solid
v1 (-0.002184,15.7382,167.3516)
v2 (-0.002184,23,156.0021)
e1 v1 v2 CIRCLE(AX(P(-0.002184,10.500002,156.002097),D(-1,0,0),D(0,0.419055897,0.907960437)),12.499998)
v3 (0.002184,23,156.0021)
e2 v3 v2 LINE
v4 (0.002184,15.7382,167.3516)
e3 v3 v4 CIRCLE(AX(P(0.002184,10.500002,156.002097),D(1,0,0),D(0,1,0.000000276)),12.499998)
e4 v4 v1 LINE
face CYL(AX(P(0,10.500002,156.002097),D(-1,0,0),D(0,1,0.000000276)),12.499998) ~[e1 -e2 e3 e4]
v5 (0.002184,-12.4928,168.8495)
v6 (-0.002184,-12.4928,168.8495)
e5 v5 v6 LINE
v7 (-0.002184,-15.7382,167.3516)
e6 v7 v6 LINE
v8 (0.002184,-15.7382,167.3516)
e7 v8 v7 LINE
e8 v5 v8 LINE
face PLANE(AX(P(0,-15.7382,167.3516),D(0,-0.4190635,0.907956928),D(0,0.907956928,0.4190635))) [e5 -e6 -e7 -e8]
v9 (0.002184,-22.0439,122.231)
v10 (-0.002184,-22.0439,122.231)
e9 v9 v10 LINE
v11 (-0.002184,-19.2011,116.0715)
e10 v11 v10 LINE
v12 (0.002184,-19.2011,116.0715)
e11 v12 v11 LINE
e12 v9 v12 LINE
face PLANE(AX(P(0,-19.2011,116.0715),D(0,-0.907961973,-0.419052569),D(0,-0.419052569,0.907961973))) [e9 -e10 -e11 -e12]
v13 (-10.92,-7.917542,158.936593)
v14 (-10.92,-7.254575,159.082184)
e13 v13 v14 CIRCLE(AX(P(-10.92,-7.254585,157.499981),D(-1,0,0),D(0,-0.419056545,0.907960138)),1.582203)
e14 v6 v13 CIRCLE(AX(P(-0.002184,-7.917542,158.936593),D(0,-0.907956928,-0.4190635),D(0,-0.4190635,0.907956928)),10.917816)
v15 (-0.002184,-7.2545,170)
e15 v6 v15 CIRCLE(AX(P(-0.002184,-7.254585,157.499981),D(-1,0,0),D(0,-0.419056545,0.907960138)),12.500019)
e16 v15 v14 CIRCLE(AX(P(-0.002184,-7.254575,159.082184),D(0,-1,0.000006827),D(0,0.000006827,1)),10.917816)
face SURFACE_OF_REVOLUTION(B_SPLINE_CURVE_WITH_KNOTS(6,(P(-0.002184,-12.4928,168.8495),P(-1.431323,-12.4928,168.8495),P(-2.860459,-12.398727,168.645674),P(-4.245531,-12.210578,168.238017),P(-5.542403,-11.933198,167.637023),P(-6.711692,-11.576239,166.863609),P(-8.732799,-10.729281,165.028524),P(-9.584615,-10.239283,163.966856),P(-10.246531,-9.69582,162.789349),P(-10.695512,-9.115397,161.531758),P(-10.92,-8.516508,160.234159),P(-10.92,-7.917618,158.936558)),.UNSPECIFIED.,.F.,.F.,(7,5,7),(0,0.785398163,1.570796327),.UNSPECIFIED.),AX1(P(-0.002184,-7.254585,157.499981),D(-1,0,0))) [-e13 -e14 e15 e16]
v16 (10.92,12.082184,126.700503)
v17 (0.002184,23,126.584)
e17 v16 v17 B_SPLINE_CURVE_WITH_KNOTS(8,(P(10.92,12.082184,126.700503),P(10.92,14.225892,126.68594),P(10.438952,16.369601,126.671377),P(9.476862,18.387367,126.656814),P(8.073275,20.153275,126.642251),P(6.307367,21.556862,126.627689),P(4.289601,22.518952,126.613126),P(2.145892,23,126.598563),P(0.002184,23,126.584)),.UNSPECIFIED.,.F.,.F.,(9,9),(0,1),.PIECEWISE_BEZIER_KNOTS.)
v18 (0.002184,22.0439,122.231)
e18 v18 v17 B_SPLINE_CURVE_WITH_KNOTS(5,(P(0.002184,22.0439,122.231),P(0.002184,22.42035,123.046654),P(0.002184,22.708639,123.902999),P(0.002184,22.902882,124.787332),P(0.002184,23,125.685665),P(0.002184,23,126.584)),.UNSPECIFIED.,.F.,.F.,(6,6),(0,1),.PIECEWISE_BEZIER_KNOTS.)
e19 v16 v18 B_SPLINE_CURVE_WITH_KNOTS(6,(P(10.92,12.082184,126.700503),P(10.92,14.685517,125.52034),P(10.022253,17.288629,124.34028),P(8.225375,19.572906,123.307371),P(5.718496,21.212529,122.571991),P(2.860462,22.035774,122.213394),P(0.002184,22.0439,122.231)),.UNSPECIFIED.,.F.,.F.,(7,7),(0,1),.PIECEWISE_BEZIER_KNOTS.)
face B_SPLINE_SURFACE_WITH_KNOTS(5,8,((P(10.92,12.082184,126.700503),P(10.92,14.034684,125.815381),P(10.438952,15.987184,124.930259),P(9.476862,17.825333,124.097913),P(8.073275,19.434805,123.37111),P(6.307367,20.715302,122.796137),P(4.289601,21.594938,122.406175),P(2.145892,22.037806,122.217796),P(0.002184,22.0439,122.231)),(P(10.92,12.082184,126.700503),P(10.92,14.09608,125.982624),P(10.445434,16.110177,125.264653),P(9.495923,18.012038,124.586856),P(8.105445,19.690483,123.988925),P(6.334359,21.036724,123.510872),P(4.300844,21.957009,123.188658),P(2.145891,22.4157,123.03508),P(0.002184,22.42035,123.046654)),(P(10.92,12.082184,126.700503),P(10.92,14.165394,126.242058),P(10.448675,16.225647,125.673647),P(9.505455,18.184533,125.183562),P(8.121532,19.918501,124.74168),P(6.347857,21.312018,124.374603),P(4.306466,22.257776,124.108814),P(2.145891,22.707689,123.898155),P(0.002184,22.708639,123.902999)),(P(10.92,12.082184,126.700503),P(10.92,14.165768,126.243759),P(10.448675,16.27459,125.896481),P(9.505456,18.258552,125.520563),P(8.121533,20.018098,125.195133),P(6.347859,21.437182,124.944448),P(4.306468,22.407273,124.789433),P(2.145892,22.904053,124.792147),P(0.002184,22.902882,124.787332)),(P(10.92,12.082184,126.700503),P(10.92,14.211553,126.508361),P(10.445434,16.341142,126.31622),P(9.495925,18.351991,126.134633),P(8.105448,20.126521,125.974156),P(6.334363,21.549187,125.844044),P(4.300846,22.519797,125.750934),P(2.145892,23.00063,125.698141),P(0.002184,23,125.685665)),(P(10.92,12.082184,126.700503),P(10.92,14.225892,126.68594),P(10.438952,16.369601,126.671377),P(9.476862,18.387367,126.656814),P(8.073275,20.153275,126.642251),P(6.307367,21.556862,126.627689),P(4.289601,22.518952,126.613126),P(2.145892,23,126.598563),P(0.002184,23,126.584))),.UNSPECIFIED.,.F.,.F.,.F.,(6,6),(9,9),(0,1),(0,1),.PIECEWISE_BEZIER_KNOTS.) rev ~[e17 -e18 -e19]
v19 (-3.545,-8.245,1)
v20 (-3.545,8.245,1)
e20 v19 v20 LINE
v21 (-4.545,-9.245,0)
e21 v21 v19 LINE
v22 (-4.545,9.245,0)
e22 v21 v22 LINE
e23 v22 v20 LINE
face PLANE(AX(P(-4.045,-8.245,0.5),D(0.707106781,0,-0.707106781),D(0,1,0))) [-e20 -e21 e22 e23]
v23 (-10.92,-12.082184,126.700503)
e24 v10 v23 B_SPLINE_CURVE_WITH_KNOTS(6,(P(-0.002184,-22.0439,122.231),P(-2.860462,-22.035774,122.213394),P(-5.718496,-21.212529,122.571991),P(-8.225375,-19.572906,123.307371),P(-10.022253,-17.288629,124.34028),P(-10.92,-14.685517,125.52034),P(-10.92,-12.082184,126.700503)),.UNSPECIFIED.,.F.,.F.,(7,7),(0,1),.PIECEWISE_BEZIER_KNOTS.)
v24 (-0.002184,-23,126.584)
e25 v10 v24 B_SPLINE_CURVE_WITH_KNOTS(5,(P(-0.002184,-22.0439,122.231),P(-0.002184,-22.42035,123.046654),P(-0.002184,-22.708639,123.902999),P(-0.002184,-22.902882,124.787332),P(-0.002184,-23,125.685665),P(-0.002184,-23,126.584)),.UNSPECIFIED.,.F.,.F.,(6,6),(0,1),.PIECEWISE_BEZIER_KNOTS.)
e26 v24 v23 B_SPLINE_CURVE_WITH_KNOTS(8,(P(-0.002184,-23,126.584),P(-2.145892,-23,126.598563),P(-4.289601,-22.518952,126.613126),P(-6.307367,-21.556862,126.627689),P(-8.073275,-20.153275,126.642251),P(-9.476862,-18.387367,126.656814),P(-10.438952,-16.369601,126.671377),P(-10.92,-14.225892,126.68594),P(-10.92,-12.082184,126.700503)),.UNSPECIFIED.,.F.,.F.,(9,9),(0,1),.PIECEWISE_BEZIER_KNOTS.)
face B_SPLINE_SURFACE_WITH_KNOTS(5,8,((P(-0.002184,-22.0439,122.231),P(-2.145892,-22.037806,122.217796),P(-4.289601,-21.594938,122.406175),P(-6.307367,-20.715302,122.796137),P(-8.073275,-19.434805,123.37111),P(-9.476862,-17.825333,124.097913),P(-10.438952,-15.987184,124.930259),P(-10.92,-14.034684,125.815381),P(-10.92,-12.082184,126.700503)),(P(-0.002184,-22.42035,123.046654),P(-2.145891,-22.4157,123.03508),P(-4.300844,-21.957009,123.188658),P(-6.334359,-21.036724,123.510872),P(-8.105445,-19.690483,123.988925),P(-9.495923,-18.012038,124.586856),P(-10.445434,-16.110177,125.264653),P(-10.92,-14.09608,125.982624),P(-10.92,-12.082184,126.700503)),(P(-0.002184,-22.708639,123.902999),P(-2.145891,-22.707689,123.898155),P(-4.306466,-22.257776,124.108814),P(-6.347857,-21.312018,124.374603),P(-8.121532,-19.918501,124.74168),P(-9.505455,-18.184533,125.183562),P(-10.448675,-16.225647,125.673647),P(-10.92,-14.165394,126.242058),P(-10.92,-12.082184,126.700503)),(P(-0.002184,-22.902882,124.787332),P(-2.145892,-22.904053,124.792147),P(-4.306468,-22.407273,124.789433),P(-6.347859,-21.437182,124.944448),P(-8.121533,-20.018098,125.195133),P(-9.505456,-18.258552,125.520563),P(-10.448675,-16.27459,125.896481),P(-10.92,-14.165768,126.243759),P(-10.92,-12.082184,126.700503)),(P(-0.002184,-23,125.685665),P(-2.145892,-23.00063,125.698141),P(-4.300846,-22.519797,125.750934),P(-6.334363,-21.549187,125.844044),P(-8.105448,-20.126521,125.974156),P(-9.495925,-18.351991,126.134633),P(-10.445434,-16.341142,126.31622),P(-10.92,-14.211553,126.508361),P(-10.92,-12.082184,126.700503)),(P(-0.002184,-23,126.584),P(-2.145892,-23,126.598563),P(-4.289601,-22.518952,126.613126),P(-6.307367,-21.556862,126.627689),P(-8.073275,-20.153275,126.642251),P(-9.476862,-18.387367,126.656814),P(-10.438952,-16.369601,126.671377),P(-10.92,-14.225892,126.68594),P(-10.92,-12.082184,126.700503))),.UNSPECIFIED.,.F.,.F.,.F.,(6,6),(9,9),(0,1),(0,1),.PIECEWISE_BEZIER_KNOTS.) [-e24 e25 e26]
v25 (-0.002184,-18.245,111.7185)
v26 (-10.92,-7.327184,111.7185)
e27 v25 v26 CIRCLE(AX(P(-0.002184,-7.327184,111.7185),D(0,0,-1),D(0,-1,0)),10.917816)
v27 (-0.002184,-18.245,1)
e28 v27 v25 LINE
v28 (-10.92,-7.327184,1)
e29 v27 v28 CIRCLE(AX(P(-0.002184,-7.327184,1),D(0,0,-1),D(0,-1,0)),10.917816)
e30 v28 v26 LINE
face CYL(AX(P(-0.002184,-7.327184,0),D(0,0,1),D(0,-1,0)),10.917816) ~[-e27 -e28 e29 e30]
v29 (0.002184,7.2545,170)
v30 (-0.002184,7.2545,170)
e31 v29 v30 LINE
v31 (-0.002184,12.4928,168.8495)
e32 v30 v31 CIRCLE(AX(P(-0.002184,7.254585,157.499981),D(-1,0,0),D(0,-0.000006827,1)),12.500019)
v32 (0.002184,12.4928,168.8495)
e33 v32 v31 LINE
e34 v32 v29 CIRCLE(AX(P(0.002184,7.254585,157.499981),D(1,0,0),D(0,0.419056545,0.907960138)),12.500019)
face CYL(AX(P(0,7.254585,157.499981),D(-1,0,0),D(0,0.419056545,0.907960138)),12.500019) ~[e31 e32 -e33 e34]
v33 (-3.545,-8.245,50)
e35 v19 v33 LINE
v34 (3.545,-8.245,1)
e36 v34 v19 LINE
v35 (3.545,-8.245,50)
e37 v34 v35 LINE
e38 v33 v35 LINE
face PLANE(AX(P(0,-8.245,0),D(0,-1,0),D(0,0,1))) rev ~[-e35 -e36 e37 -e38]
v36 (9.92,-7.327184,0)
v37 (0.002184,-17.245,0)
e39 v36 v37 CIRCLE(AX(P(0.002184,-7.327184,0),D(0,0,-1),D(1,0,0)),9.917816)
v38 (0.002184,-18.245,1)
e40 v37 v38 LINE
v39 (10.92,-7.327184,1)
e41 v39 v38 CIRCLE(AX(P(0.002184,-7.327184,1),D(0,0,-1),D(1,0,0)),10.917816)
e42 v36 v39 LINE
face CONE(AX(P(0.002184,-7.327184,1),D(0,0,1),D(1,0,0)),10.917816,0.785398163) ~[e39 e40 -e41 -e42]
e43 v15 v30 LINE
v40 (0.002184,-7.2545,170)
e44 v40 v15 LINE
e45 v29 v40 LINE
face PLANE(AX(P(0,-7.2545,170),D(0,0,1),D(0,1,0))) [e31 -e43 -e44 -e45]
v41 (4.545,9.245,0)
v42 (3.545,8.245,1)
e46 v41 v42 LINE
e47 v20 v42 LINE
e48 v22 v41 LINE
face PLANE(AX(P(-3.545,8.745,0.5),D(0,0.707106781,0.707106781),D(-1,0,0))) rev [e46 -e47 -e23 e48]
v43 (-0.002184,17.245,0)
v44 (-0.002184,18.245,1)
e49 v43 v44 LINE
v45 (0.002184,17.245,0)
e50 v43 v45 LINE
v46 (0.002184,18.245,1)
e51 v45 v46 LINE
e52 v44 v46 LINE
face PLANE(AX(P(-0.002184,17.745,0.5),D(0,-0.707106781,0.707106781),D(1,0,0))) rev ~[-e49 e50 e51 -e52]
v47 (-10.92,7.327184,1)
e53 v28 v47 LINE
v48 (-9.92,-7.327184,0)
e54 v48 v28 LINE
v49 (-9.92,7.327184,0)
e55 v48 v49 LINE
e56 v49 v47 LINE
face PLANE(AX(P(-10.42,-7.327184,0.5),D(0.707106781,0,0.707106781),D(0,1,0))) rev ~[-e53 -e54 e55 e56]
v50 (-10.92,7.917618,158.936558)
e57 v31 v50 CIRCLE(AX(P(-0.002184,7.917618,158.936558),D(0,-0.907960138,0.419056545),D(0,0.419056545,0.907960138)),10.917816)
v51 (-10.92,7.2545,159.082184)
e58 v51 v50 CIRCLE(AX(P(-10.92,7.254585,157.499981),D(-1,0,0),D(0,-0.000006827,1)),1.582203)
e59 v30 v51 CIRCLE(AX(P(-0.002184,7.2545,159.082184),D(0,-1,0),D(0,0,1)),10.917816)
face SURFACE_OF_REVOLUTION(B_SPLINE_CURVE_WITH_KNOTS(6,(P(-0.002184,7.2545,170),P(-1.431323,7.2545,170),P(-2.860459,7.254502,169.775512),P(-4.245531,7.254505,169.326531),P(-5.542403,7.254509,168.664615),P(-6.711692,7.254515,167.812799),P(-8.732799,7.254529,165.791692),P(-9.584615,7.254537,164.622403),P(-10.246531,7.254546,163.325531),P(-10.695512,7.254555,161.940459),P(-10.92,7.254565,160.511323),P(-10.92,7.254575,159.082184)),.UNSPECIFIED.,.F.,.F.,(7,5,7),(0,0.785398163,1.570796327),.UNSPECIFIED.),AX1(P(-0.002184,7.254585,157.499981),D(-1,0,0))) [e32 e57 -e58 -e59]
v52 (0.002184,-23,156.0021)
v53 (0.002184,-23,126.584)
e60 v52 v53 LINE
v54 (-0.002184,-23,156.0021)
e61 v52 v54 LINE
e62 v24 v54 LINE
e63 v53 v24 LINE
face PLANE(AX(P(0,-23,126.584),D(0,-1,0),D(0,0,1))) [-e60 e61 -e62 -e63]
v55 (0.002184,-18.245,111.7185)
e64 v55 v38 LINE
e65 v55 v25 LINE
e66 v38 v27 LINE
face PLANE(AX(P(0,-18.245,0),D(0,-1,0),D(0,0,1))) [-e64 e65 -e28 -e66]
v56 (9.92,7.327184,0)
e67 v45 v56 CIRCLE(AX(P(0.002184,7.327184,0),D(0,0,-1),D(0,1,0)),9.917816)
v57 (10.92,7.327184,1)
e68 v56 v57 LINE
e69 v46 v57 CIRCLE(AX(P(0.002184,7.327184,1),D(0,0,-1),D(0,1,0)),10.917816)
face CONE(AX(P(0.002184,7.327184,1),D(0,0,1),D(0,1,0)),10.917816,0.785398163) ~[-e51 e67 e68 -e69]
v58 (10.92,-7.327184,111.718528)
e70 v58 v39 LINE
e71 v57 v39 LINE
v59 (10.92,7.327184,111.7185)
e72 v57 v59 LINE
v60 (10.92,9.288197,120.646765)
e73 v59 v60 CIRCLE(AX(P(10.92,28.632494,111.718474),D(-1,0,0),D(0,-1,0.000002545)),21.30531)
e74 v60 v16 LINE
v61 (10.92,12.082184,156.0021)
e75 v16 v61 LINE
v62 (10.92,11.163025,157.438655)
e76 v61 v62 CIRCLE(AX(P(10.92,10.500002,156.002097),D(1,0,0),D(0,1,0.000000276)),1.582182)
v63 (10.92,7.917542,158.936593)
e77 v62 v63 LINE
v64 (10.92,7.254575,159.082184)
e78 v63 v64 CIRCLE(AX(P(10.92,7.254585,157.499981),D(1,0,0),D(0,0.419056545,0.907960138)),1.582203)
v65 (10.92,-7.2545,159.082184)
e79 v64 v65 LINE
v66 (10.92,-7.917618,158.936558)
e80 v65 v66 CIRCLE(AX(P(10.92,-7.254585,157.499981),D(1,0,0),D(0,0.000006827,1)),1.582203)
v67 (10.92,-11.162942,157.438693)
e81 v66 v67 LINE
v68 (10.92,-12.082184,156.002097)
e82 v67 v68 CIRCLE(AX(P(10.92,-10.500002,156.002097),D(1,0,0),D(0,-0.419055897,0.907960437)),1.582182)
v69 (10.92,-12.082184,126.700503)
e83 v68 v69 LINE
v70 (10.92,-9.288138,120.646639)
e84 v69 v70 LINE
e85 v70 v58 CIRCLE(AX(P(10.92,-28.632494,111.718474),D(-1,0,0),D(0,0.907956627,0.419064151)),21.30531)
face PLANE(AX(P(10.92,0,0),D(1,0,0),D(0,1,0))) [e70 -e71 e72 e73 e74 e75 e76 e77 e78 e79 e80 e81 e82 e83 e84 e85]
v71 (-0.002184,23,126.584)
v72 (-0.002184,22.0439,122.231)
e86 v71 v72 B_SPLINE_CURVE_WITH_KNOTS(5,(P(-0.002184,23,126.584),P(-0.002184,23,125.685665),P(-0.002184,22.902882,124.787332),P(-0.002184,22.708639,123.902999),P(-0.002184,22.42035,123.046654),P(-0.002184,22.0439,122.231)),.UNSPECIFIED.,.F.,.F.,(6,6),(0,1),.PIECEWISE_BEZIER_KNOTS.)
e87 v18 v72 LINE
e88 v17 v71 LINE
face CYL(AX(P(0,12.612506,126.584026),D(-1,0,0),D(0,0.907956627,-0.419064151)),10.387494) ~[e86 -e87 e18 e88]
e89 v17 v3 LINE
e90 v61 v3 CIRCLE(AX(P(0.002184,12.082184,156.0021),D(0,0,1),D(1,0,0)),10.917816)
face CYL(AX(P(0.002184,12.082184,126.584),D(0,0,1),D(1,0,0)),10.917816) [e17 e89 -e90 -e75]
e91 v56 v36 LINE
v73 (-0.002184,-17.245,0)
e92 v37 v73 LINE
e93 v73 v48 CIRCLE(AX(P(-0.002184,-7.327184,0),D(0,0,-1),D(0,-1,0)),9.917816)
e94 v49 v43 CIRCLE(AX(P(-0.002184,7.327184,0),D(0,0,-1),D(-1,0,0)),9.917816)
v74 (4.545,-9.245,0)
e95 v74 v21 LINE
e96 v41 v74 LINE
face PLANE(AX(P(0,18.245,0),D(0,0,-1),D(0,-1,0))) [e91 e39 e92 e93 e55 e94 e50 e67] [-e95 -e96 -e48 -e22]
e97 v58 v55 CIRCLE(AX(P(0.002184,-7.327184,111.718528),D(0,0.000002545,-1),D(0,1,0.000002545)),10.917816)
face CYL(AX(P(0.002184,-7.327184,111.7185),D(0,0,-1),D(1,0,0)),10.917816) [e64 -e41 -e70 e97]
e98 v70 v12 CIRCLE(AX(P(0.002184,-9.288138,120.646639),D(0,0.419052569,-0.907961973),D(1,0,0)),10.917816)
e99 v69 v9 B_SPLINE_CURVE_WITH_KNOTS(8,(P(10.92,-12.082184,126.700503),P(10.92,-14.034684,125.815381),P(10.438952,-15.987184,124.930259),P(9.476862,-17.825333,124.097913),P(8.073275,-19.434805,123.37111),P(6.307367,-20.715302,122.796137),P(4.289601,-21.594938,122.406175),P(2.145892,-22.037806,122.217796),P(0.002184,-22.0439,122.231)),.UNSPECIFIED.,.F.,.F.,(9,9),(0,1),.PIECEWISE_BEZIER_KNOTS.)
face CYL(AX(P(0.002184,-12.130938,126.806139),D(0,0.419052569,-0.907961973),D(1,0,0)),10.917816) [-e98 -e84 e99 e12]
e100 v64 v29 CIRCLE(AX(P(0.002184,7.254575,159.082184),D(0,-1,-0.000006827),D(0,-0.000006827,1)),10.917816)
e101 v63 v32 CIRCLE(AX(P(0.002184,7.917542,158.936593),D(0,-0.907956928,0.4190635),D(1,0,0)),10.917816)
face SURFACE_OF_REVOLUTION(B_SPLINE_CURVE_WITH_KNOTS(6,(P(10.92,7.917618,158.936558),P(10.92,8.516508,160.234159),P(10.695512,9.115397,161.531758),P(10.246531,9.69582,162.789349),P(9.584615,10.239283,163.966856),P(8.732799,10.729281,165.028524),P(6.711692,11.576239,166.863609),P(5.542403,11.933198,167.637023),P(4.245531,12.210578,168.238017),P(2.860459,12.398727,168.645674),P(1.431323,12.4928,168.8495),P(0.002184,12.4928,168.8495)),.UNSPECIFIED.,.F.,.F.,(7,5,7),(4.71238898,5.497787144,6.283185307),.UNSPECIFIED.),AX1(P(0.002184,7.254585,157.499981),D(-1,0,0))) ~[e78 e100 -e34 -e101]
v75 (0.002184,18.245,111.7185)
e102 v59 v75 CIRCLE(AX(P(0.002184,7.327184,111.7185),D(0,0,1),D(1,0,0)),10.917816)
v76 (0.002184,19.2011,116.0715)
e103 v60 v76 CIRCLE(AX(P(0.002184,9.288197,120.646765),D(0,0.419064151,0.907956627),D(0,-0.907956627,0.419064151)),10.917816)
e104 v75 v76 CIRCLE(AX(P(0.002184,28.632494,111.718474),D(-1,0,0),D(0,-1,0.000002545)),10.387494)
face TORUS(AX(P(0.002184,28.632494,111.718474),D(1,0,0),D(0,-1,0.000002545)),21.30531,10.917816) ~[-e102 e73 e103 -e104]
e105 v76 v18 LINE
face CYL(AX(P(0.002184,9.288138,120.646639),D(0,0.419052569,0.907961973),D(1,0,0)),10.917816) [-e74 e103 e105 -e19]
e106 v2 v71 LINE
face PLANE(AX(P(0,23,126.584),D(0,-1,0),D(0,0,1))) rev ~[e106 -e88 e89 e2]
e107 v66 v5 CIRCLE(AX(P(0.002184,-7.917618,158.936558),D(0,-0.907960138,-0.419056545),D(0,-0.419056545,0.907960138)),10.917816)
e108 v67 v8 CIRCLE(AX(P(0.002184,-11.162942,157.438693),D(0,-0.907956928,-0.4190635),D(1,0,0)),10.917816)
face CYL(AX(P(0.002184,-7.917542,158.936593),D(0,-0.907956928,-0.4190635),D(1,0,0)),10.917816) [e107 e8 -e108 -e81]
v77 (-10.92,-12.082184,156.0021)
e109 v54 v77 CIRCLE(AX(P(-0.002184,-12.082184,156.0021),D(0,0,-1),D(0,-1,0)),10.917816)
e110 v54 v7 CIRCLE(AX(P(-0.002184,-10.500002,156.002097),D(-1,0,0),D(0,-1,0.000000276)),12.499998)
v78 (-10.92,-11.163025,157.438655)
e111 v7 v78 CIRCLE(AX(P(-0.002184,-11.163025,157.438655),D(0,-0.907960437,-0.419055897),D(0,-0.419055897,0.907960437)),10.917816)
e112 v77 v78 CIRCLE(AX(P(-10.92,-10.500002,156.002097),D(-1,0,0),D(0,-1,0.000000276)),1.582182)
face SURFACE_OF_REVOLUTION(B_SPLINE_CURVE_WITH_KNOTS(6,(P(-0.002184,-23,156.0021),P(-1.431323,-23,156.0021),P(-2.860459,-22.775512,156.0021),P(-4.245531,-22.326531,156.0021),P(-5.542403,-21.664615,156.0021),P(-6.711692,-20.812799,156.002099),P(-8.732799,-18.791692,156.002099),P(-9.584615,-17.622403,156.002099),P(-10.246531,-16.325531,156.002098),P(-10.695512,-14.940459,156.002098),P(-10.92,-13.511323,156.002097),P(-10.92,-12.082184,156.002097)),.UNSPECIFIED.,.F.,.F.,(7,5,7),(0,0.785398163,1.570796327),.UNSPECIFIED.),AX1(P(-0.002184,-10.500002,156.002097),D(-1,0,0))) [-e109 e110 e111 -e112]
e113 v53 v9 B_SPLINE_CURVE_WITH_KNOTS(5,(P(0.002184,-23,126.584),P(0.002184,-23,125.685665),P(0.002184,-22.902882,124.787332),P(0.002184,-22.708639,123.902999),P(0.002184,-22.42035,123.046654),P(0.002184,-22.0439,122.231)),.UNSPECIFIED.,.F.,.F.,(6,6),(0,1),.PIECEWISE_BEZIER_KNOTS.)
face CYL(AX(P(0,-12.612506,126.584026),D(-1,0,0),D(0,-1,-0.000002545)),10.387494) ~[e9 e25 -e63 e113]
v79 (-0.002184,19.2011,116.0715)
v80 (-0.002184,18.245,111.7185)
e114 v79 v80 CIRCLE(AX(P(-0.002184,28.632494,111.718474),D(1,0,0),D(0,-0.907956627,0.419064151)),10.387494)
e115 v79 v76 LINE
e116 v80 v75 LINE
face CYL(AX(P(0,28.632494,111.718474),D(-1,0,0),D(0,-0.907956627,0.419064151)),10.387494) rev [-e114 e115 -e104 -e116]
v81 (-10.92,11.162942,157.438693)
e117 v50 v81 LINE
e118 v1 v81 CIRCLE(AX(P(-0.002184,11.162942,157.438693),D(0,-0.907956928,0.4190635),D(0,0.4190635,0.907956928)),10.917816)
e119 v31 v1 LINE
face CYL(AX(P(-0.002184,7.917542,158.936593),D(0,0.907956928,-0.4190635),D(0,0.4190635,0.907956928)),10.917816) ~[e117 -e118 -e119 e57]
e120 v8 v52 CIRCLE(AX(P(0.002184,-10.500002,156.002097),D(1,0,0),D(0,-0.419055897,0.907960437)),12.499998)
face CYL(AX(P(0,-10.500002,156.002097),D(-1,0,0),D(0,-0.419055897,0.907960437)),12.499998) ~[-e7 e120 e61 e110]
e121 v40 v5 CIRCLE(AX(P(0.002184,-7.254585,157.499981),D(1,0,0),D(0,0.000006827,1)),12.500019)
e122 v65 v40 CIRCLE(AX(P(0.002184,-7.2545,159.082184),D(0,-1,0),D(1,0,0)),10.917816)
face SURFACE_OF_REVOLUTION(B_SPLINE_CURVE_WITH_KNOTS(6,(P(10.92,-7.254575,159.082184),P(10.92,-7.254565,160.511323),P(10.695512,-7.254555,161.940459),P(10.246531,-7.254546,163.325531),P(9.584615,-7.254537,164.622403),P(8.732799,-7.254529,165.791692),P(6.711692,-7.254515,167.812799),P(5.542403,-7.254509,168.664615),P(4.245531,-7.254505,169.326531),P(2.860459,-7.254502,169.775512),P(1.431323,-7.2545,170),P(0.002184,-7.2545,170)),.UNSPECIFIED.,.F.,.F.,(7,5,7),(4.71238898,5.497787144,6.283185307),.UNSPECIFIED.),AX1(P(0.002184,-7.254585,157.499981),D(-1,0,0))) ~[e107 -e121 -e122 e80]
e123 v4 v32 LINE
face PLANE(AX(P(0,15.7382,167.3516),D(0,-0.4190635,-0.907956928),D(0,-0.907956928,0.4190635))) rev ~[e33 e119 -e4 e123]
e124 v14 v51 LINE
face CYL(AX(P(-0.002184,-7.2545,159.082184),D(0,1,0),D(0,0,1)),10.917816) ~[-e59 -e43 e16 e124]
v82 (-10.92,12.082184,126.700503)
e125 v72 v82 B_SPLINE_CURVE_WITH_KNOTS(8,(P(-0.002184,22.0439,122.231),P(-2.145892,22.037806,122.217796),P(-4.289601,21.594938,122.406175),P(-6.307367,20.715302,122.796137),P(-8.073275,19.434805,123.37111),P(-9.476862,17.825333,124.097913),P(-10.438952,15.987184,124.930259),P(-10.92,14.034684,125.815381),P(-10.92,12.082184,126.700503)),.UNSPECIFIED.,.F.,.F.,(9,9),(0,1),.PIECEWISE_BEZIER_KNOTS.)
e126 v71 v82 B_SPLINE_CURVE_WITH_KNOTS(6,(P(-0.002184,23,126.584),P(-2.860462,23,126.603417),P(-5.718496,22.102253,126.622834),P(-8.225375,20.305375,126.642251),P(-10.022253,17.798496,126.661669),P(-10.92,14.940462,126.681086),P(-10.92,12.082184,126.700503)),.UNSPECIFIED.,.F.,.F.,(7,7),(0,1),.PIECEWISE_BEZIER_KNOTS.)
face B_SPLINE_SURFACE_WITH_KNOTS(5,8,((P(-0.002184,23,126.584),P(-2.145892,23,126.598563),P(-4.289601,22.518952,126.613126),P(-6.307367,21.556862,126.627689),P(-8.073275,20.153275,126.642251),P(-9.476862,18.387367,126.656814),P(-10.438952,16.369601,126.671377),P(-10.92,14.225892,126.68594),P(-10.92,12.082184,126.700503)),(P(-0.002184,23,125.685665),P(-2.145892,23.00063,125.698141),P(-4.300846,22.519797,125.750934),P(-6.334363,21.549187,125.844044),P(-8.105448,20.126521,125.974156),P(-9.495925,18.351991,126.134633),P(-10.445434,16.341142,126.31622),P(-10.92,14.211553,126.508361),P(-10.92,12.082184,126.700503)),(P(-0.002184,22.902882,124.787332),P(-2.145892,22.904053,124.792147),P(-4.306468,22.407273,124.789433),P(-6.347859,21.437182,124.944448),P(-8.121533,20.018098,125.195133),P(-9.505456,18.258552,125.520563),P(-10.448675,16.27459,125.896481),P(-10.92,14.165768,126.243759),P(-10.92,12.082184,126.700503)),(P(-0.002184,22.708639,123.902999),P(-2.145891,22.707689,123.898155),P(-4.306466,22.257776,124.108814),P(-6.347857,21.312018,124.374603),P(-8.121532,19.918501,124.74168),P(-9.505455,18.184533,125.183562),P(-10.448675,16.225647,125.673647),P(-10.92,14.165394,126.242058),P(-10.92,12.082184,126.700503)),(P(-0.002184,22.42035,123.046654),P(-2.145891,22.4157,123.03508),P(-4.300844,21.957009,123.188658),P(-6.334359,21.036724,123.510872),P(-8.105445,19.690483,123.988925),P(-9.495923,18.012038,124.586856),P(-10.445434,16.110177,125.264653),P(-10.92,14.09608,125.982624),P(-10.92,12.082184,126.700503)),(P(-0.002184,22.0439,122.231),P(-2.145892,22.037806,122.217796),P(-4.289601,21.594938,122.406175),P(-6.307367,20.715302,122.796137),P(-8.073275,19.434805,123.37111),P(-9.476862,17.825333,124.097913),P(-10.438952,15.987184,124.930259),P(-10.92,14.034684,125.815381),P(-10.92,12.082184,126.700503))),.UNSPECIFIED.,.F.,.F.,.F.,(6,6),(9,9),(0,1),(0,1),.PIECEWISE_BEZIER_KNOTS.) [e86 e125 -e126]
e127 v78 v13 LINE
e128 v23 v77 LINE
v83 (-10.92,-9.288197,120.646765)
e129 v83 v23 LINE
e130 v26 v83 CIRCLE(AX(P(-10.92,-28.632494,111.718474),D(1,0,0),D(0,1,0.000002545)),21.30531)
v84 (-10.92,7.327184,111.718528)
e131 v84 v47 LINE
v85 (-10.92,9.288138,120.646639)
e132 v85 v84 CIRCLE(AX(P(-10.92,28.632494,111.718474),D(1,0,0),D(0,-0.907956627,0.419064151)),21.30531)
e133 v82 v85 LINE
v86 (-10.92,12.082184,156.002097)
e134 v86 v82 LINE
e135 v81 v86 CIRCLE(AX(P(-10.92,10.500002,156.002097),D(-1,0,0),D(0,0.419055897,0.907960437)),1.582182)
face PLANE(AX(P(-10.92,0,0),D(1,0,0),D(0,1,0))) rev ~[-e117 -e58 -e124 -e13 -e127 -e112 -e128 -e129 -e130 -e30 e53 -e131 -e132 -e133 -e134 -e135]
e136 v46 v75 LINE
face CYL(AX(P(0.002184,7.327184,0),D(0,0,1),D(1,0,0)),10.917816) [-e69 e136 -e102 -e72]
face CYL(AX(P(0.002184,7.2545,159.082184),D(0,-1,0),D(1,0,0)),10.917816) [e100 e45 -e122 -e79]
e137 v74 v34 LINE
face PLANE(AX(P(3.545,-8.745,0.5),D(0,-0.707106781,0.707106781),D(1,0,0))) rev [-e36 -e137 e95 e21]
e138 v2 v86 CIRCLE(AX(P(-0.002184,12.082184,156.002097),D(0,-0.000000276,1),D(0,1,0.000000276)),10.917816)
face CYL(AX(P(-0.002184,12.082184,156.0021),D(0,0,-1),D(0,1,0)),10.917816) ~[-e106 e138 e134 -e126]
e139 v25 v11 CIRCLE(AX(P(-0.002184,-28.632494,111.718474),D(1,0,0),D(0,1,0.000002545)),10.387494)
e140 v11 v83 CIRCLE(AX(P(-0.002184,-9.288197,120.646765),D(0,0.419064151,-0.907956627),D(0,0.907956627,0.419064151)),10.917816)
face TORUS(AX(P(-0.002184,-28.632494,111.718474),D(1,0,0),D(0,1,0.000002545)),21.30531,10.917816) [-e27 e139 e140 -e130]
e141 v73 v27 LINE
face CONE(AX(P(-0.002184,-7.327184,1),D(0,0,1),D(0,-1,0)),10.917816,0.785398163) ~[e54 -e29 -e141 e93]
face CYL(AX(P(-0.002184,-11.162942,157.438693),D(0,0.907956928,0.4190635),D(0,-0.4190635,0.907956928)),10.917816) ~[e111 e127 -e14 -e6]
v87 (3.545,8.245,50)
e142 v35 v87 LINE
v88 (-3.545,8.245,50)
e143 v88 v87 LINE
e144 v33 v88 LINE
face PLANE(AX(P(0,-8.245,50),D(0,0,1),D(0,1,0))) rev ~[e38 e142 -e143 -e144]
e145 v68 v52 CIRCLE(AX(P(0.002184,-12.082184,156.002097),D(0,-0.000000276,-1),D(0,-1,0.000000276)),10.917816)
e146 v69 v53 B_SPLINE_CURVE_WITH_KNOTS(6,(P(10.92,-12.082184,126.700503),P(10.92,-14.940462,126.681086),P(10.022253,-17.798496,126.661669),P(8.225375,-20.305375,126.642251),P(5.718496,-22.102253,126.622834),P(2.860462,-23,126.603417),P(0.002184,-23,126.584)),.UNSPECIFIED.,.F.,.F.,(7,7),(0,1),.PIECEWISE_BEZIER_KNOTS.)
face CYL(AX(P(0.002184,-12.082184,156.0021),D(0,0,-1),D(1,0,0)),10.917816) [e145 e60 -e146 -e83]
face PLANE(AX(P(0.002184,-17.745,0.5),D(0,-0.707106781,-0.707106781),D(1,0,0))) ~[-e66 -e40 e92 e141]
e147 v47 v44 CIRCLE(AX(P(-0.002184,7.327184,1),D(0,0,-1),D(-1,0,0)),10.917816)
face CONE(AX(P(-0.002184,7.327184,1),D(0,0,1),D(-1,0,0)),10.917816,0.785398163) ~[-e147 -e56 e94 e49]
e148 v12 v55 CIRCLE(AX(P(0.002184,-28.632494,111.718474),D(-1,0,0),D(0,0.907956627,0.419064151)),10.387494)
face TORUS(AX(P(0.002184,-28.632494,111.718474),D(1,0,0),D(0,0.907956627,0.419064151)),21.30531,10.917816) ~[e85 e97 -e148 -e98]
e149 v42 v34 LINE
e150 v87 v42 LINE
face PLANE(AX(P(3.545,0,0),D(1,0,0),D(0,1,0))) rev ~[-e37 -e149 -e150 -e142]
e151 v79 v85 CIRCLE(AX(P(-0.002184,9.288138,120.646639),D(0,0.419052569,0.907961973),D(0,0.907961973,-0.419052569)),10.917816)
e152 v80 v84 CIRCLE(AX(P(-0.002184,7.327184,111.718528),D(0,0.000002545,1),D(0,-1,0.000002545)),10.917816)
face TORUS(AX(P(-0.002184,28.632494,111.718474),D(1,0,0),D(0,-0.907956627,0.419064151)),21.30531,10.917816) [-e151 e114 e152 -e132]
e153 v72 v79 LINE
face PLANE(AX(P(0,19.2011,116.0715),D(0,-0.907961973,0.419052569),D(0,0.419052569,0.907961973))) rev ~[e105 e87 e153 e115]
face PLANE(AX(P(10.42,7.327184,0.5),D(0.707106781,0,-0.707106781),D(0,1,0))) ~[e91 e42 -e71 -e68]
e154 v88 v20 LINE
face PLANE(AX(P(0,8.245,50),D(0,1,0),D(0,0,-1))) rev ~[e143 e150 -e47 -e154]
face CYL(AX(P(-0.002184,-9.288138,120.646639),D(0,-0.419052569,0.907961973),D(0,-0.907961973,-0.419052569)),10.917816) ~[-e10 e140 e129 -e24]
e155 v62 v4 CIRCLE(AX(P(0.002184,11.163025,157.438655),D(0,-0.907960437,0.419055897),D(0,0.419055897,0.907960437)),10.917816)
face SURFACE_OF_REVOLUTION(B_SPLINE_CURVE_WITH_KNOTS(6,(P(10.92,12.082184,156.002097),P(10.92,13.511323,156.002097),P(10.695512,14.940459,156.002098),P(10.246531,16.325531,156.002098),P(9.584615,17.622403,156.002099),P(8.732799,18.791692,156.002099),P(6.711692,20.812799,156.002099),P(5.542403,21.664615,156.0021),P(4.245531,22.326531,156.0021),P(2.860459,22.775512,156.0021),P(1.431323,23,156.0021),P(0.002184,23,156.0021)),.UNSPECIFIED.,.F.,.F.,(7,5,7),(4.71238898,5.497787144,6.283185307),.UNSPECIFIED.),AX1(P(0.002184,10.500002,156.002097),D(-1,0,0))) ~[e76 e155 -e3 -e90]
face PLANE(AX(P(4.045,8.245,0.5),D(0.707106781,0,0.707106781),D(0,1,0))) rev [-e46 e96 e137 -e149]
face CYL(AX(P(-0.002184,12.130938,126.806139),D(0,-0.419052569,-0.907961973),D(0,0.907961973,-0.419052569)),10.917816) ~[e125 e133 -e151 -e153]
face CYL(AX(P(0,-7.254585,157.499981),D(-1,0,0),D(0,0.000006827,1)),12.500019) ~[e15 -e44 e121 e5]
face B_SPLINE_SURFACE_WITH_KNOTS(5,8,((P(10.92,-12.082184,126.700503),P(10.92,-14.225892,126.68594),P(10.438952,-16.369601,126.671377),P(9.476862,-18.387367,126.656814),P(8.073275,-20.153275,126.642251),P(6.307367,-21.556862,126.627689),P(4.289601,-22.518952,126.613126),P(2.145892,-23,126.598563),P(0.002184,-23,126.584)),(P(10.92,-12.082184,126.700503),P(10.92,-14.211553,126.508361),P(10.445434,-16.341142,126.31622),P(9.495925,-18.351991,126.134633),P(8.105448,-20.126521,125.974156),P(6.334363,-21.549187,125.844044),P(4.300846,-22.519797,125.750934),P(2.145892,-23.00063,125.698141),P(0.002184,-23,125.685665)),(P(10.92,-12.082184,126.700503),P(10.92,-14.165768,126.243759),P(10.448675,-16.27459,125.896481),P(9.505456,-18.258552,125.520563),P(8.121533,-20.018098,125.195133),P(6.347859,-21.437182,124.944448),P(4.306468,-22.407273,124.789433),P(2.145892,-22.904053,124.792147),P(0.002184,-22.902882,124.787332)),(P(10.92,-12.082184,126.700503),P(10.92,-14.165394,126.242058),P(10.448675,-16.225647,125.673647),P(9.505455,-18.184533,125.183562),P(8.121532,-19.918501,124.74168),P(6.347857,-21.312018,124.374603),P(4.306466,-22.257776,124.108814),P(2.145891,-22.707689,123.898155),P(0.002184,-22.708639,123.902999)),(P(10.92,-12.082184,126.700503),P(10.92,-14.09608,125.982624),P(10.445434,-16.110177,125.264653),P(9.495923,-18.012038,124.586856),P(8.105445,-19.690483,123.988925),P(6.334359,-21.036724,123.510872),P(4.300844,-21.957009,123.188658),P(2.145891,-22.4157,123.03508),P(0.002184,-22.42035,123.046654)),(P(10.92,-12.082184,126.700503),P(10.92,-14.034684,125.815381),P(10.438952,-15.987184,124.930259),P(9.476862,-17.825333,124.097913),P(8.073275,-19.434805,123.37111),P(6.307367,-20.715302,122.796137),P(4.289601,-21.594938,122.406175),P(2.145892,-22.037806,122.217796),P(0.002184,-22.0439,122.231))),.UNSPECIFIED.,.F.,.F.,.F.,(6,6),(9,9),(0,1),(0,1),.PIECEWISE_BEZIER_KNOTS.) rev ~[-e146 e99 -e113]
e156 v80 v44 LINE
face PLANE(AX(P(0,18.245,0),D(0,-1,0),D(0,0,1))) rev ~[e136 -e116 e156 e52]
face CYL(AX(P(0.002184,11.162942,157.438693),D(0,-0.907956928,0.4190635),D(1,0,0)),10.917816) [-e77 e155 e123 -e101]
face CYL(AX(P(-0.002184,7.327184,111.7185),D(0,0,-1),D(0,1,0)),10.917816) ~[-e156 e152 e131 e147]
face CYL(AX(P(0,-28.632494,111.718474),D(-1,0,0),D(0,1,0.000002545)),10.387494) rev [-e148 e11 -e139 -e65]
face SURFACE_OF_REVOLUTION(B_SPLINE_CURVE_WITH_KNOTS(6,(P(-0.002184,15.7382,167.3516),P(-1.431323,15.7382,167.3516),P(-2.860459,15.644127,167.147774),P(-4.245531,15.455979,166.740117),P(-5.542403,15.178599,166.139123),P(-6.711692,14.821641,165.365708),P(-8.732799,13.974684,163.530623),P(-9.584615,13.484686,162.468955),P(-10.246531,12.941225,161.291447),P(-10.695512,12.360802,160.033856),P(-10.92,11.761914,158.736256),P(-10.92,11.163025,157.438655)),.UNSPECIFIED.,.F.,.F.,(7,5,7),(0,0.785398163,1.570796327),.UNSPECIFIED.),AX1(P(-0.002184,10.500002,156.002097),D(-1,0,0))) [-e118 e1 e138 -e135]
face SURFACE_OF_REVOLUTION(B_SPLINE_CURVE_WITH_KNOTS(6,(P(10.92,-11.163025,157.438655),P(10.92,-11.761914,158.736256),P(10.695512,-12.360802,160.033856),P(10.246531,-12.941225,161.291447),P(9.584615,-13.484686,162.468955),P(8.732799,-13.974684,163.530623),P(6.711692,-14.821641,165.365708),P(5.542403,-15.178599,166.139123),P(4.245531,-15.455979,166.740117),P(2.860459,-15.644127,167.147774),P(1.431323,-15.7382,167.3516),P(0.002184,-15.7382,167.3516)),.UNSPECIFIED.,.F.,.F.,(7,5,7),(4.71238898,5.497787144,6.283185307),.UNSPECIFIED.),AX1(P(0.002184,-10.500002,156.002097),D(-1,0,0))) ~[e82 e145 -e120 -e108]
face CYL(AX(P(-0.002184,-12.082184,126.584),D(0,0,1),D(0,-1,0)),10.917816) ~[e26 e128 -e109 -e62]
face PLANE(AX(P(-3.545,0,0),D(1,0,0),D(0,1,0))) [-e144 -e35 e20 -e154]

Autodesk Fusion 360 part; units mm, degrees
sketch "Schizzo1" plane through (0, 0, 0) normal (1, 0, 0) x (0, 1, 0)
  line L0 (18.245, 0) -> (18.245, 111.7185)
  line L1 (19.2011, 116.0715) -> (22.0439, 122.231)
  line L2 (23, 126.584) -> (23, 156.0021)
  line L3 (15.7382, 167.3516) -> (12.4928, 168.8495)
  line L4 (7.2545, 170) -> (0, 170)
  line L5 (18.245, 0) -> (0, 0)
  line L6 (0, 0) -> (0, 170) construction
  arc A0 (12.4928, 168.8495) -> (7.2545, 170) centre (7.2545, 157.5) ccw
  arc A1 (23, 156.0021) -> (15.7382, 167.3516) centre (10.5, 156.0021) ccw
  arc A2 (22.0439, 122.231) -> (23, 126.584) centre (12.6125, 126.584) ccw
  arc A3 (19.2011, 116.0715) -> (18.245, 111.7185) centre (28.6325, 111.7185) ccw
  line L7 (-18.245, 0) -> (0, 0)
  arc A4 (-18.245, 111.7185) -> (-19.2011, 116.0715) centre (-28.6325, 111.7185) ccw
  line L8 (-19.2011, 116.0715) -> (-22.0439, 122.231)
  arc A5 (-23, 126.584) -> (-22.0439, 122.231) centre (-12.6125, 126.584) ccw
  line L9 (-23, 126.584) -> (-23, 156.0021)
  arc A6 (-15.7382, 167.3516) -> (-23, 156.0021) centre (-10.5, 156.0021) ccw
  line L10 (-15.7382, 167.3516) -> (-12.4928, 168.8495)
  arc A7 (-7.2545, 170) -> (-12.4928, 168.8495) centre (-7.2545, 157.5) ccw
  line L11 (-7.2545, 170) -> (0, 170)
  line L12 (-18.245, 0) -> (-18.245, 111.7185)
  line L13 (-8.245, 0) -> (-8.245, 50)
  line L14 (-8.245, 50) -> (8.245, 50)
  line L15 (8.245, 50) -> (8.245, 0)
  point P0 (18.245, 114)
  point P1 (23, 124.3025)
  point P2 (23, 164)
  point P3 (10, 170)
  point P4 (0, 50)
  dimension "d1" = 170
  dimension "d2" = 18.245
  dimension "d3" = 56
  dimension "d4" = 10
  dimension "d5" = 23
  dimension "d6" = 23
  dimension "d7" = 6
  dimension "d8" = 12.5
  dimension "d9" = 12.5
  dimension "d10" = 10.3875
  dimension "d16" = 50
  dimension "d17" = 16.49
extrude "Estrusione1" add sketch "Schizzo1" along normal mid plane 21.84
extrude "Estrusione2" cut sketch "Schizzo1" along normal mid plane 7.09 contours L5 L7 L13 L14 L15
fillet "Raccordo1" radius 10.92 34 edges at (-10.92, -18.245, 55.8593) (-10.92, -18.4868, 113.9469) (-10.92, -20.6225, 119.1512) (-10.92, -22.7582, 124.3556) (-10.92, -23, 141.293) (-10.92, -21.0292, 162.739) (-10.92, -14.1155, 168.1005) (-10.92, -9.9361, 169.709) (-10.92, 0, 170) (-10.92, 9.9361, 169.709) (-10.92, 14.1155, 168.1005) (-10.92, 21.0292, 162.739) (-10.92, 23, 141.293) (-10.92, 22.7582, 124.3556) (-10.92, 20.6225, 119.1512) (-10.92, 18.4868, 113.9469) (-10.92, 18.245, 55.8593) (10.92, 18.245, 55.8593) (10.92, 18.4868, 113.9469) (10.92, 20.6225, 119.1512) (10.92, 22.7582, 124.3556) (10.92, 23, 141.293) (10.92, 21.0292, 162.739) (10.92, 14.1155, 168.1005) (10.92, 9.9361, 169.709) (10.92, 0, 170) (10.92, -9.9361, 169.709) (10.92, -14.1155, 168.1005) (10.92, -21.0292, 162.739) (10.92, -23, 141.293) (10.92, -22.7582, 124.3556) (10.92, -20.6225, 119.1512) (10.92, -18.4868, 113.9469) (10.92, -18.245, 55.8593)
chamfer "Smusso1" distance 1 angle 45 4 edges at (-3.545, 0, 0) (0, 8.245, 0) (3.545, 0, 0) (0, -8.245, 0)
chamfer "Smusso1" distance 1 angle 45 4 edges at (0, -18.245, 0) (10.92, 0, 0) (0, 18.245, 0) (-10.92, 0, 0)
equation "d1 = lunghezza_prolunga_freno"
equation "d2 = d17 / 2 + 10 mm"
equation "d5 = d6"
equation "d10 = -d2 * 2.5 + 56 mm"
equation "offset_incastro = 0.25 mm" comment "Modificare questo valore per permettere l'incastro perfetto. (Valore di default 0.25 mm)"
equation "larghezza_incastro = 16.24 mm" comment "Modificare questo valore per allargare o diminuire la larghezza dell'incastro del freno. (Valore di default 16.24 mm)"
equation "spessore_incastro = 6.84 mm" comment "Modificare questo valore per allargare o diminuire lo spessore dell'incastro del freno. (Valore di default 4.1 mm)"
equation "profondita_incastro = 50 mm" comment "Modificare questo valore per allargare o diminuire la profondità dell'incastro del freno. (Valore di default 50 mm)"
equation "lunghezza_prolunga_freno = 170 mm" comment "Modificare questo valore per allungare o accorciare la prolunga del freno. (Valore di default 170 mm)"
equation "d16 = profondita_incastro"
equation "d17 = larghezza_incastro + offset_incastro"
equation "d18 = spessore_incastro + 15 mm"
equation "d20 = spessore_incastro + offset_incastro"
equation "d23 = d18 / 2"
